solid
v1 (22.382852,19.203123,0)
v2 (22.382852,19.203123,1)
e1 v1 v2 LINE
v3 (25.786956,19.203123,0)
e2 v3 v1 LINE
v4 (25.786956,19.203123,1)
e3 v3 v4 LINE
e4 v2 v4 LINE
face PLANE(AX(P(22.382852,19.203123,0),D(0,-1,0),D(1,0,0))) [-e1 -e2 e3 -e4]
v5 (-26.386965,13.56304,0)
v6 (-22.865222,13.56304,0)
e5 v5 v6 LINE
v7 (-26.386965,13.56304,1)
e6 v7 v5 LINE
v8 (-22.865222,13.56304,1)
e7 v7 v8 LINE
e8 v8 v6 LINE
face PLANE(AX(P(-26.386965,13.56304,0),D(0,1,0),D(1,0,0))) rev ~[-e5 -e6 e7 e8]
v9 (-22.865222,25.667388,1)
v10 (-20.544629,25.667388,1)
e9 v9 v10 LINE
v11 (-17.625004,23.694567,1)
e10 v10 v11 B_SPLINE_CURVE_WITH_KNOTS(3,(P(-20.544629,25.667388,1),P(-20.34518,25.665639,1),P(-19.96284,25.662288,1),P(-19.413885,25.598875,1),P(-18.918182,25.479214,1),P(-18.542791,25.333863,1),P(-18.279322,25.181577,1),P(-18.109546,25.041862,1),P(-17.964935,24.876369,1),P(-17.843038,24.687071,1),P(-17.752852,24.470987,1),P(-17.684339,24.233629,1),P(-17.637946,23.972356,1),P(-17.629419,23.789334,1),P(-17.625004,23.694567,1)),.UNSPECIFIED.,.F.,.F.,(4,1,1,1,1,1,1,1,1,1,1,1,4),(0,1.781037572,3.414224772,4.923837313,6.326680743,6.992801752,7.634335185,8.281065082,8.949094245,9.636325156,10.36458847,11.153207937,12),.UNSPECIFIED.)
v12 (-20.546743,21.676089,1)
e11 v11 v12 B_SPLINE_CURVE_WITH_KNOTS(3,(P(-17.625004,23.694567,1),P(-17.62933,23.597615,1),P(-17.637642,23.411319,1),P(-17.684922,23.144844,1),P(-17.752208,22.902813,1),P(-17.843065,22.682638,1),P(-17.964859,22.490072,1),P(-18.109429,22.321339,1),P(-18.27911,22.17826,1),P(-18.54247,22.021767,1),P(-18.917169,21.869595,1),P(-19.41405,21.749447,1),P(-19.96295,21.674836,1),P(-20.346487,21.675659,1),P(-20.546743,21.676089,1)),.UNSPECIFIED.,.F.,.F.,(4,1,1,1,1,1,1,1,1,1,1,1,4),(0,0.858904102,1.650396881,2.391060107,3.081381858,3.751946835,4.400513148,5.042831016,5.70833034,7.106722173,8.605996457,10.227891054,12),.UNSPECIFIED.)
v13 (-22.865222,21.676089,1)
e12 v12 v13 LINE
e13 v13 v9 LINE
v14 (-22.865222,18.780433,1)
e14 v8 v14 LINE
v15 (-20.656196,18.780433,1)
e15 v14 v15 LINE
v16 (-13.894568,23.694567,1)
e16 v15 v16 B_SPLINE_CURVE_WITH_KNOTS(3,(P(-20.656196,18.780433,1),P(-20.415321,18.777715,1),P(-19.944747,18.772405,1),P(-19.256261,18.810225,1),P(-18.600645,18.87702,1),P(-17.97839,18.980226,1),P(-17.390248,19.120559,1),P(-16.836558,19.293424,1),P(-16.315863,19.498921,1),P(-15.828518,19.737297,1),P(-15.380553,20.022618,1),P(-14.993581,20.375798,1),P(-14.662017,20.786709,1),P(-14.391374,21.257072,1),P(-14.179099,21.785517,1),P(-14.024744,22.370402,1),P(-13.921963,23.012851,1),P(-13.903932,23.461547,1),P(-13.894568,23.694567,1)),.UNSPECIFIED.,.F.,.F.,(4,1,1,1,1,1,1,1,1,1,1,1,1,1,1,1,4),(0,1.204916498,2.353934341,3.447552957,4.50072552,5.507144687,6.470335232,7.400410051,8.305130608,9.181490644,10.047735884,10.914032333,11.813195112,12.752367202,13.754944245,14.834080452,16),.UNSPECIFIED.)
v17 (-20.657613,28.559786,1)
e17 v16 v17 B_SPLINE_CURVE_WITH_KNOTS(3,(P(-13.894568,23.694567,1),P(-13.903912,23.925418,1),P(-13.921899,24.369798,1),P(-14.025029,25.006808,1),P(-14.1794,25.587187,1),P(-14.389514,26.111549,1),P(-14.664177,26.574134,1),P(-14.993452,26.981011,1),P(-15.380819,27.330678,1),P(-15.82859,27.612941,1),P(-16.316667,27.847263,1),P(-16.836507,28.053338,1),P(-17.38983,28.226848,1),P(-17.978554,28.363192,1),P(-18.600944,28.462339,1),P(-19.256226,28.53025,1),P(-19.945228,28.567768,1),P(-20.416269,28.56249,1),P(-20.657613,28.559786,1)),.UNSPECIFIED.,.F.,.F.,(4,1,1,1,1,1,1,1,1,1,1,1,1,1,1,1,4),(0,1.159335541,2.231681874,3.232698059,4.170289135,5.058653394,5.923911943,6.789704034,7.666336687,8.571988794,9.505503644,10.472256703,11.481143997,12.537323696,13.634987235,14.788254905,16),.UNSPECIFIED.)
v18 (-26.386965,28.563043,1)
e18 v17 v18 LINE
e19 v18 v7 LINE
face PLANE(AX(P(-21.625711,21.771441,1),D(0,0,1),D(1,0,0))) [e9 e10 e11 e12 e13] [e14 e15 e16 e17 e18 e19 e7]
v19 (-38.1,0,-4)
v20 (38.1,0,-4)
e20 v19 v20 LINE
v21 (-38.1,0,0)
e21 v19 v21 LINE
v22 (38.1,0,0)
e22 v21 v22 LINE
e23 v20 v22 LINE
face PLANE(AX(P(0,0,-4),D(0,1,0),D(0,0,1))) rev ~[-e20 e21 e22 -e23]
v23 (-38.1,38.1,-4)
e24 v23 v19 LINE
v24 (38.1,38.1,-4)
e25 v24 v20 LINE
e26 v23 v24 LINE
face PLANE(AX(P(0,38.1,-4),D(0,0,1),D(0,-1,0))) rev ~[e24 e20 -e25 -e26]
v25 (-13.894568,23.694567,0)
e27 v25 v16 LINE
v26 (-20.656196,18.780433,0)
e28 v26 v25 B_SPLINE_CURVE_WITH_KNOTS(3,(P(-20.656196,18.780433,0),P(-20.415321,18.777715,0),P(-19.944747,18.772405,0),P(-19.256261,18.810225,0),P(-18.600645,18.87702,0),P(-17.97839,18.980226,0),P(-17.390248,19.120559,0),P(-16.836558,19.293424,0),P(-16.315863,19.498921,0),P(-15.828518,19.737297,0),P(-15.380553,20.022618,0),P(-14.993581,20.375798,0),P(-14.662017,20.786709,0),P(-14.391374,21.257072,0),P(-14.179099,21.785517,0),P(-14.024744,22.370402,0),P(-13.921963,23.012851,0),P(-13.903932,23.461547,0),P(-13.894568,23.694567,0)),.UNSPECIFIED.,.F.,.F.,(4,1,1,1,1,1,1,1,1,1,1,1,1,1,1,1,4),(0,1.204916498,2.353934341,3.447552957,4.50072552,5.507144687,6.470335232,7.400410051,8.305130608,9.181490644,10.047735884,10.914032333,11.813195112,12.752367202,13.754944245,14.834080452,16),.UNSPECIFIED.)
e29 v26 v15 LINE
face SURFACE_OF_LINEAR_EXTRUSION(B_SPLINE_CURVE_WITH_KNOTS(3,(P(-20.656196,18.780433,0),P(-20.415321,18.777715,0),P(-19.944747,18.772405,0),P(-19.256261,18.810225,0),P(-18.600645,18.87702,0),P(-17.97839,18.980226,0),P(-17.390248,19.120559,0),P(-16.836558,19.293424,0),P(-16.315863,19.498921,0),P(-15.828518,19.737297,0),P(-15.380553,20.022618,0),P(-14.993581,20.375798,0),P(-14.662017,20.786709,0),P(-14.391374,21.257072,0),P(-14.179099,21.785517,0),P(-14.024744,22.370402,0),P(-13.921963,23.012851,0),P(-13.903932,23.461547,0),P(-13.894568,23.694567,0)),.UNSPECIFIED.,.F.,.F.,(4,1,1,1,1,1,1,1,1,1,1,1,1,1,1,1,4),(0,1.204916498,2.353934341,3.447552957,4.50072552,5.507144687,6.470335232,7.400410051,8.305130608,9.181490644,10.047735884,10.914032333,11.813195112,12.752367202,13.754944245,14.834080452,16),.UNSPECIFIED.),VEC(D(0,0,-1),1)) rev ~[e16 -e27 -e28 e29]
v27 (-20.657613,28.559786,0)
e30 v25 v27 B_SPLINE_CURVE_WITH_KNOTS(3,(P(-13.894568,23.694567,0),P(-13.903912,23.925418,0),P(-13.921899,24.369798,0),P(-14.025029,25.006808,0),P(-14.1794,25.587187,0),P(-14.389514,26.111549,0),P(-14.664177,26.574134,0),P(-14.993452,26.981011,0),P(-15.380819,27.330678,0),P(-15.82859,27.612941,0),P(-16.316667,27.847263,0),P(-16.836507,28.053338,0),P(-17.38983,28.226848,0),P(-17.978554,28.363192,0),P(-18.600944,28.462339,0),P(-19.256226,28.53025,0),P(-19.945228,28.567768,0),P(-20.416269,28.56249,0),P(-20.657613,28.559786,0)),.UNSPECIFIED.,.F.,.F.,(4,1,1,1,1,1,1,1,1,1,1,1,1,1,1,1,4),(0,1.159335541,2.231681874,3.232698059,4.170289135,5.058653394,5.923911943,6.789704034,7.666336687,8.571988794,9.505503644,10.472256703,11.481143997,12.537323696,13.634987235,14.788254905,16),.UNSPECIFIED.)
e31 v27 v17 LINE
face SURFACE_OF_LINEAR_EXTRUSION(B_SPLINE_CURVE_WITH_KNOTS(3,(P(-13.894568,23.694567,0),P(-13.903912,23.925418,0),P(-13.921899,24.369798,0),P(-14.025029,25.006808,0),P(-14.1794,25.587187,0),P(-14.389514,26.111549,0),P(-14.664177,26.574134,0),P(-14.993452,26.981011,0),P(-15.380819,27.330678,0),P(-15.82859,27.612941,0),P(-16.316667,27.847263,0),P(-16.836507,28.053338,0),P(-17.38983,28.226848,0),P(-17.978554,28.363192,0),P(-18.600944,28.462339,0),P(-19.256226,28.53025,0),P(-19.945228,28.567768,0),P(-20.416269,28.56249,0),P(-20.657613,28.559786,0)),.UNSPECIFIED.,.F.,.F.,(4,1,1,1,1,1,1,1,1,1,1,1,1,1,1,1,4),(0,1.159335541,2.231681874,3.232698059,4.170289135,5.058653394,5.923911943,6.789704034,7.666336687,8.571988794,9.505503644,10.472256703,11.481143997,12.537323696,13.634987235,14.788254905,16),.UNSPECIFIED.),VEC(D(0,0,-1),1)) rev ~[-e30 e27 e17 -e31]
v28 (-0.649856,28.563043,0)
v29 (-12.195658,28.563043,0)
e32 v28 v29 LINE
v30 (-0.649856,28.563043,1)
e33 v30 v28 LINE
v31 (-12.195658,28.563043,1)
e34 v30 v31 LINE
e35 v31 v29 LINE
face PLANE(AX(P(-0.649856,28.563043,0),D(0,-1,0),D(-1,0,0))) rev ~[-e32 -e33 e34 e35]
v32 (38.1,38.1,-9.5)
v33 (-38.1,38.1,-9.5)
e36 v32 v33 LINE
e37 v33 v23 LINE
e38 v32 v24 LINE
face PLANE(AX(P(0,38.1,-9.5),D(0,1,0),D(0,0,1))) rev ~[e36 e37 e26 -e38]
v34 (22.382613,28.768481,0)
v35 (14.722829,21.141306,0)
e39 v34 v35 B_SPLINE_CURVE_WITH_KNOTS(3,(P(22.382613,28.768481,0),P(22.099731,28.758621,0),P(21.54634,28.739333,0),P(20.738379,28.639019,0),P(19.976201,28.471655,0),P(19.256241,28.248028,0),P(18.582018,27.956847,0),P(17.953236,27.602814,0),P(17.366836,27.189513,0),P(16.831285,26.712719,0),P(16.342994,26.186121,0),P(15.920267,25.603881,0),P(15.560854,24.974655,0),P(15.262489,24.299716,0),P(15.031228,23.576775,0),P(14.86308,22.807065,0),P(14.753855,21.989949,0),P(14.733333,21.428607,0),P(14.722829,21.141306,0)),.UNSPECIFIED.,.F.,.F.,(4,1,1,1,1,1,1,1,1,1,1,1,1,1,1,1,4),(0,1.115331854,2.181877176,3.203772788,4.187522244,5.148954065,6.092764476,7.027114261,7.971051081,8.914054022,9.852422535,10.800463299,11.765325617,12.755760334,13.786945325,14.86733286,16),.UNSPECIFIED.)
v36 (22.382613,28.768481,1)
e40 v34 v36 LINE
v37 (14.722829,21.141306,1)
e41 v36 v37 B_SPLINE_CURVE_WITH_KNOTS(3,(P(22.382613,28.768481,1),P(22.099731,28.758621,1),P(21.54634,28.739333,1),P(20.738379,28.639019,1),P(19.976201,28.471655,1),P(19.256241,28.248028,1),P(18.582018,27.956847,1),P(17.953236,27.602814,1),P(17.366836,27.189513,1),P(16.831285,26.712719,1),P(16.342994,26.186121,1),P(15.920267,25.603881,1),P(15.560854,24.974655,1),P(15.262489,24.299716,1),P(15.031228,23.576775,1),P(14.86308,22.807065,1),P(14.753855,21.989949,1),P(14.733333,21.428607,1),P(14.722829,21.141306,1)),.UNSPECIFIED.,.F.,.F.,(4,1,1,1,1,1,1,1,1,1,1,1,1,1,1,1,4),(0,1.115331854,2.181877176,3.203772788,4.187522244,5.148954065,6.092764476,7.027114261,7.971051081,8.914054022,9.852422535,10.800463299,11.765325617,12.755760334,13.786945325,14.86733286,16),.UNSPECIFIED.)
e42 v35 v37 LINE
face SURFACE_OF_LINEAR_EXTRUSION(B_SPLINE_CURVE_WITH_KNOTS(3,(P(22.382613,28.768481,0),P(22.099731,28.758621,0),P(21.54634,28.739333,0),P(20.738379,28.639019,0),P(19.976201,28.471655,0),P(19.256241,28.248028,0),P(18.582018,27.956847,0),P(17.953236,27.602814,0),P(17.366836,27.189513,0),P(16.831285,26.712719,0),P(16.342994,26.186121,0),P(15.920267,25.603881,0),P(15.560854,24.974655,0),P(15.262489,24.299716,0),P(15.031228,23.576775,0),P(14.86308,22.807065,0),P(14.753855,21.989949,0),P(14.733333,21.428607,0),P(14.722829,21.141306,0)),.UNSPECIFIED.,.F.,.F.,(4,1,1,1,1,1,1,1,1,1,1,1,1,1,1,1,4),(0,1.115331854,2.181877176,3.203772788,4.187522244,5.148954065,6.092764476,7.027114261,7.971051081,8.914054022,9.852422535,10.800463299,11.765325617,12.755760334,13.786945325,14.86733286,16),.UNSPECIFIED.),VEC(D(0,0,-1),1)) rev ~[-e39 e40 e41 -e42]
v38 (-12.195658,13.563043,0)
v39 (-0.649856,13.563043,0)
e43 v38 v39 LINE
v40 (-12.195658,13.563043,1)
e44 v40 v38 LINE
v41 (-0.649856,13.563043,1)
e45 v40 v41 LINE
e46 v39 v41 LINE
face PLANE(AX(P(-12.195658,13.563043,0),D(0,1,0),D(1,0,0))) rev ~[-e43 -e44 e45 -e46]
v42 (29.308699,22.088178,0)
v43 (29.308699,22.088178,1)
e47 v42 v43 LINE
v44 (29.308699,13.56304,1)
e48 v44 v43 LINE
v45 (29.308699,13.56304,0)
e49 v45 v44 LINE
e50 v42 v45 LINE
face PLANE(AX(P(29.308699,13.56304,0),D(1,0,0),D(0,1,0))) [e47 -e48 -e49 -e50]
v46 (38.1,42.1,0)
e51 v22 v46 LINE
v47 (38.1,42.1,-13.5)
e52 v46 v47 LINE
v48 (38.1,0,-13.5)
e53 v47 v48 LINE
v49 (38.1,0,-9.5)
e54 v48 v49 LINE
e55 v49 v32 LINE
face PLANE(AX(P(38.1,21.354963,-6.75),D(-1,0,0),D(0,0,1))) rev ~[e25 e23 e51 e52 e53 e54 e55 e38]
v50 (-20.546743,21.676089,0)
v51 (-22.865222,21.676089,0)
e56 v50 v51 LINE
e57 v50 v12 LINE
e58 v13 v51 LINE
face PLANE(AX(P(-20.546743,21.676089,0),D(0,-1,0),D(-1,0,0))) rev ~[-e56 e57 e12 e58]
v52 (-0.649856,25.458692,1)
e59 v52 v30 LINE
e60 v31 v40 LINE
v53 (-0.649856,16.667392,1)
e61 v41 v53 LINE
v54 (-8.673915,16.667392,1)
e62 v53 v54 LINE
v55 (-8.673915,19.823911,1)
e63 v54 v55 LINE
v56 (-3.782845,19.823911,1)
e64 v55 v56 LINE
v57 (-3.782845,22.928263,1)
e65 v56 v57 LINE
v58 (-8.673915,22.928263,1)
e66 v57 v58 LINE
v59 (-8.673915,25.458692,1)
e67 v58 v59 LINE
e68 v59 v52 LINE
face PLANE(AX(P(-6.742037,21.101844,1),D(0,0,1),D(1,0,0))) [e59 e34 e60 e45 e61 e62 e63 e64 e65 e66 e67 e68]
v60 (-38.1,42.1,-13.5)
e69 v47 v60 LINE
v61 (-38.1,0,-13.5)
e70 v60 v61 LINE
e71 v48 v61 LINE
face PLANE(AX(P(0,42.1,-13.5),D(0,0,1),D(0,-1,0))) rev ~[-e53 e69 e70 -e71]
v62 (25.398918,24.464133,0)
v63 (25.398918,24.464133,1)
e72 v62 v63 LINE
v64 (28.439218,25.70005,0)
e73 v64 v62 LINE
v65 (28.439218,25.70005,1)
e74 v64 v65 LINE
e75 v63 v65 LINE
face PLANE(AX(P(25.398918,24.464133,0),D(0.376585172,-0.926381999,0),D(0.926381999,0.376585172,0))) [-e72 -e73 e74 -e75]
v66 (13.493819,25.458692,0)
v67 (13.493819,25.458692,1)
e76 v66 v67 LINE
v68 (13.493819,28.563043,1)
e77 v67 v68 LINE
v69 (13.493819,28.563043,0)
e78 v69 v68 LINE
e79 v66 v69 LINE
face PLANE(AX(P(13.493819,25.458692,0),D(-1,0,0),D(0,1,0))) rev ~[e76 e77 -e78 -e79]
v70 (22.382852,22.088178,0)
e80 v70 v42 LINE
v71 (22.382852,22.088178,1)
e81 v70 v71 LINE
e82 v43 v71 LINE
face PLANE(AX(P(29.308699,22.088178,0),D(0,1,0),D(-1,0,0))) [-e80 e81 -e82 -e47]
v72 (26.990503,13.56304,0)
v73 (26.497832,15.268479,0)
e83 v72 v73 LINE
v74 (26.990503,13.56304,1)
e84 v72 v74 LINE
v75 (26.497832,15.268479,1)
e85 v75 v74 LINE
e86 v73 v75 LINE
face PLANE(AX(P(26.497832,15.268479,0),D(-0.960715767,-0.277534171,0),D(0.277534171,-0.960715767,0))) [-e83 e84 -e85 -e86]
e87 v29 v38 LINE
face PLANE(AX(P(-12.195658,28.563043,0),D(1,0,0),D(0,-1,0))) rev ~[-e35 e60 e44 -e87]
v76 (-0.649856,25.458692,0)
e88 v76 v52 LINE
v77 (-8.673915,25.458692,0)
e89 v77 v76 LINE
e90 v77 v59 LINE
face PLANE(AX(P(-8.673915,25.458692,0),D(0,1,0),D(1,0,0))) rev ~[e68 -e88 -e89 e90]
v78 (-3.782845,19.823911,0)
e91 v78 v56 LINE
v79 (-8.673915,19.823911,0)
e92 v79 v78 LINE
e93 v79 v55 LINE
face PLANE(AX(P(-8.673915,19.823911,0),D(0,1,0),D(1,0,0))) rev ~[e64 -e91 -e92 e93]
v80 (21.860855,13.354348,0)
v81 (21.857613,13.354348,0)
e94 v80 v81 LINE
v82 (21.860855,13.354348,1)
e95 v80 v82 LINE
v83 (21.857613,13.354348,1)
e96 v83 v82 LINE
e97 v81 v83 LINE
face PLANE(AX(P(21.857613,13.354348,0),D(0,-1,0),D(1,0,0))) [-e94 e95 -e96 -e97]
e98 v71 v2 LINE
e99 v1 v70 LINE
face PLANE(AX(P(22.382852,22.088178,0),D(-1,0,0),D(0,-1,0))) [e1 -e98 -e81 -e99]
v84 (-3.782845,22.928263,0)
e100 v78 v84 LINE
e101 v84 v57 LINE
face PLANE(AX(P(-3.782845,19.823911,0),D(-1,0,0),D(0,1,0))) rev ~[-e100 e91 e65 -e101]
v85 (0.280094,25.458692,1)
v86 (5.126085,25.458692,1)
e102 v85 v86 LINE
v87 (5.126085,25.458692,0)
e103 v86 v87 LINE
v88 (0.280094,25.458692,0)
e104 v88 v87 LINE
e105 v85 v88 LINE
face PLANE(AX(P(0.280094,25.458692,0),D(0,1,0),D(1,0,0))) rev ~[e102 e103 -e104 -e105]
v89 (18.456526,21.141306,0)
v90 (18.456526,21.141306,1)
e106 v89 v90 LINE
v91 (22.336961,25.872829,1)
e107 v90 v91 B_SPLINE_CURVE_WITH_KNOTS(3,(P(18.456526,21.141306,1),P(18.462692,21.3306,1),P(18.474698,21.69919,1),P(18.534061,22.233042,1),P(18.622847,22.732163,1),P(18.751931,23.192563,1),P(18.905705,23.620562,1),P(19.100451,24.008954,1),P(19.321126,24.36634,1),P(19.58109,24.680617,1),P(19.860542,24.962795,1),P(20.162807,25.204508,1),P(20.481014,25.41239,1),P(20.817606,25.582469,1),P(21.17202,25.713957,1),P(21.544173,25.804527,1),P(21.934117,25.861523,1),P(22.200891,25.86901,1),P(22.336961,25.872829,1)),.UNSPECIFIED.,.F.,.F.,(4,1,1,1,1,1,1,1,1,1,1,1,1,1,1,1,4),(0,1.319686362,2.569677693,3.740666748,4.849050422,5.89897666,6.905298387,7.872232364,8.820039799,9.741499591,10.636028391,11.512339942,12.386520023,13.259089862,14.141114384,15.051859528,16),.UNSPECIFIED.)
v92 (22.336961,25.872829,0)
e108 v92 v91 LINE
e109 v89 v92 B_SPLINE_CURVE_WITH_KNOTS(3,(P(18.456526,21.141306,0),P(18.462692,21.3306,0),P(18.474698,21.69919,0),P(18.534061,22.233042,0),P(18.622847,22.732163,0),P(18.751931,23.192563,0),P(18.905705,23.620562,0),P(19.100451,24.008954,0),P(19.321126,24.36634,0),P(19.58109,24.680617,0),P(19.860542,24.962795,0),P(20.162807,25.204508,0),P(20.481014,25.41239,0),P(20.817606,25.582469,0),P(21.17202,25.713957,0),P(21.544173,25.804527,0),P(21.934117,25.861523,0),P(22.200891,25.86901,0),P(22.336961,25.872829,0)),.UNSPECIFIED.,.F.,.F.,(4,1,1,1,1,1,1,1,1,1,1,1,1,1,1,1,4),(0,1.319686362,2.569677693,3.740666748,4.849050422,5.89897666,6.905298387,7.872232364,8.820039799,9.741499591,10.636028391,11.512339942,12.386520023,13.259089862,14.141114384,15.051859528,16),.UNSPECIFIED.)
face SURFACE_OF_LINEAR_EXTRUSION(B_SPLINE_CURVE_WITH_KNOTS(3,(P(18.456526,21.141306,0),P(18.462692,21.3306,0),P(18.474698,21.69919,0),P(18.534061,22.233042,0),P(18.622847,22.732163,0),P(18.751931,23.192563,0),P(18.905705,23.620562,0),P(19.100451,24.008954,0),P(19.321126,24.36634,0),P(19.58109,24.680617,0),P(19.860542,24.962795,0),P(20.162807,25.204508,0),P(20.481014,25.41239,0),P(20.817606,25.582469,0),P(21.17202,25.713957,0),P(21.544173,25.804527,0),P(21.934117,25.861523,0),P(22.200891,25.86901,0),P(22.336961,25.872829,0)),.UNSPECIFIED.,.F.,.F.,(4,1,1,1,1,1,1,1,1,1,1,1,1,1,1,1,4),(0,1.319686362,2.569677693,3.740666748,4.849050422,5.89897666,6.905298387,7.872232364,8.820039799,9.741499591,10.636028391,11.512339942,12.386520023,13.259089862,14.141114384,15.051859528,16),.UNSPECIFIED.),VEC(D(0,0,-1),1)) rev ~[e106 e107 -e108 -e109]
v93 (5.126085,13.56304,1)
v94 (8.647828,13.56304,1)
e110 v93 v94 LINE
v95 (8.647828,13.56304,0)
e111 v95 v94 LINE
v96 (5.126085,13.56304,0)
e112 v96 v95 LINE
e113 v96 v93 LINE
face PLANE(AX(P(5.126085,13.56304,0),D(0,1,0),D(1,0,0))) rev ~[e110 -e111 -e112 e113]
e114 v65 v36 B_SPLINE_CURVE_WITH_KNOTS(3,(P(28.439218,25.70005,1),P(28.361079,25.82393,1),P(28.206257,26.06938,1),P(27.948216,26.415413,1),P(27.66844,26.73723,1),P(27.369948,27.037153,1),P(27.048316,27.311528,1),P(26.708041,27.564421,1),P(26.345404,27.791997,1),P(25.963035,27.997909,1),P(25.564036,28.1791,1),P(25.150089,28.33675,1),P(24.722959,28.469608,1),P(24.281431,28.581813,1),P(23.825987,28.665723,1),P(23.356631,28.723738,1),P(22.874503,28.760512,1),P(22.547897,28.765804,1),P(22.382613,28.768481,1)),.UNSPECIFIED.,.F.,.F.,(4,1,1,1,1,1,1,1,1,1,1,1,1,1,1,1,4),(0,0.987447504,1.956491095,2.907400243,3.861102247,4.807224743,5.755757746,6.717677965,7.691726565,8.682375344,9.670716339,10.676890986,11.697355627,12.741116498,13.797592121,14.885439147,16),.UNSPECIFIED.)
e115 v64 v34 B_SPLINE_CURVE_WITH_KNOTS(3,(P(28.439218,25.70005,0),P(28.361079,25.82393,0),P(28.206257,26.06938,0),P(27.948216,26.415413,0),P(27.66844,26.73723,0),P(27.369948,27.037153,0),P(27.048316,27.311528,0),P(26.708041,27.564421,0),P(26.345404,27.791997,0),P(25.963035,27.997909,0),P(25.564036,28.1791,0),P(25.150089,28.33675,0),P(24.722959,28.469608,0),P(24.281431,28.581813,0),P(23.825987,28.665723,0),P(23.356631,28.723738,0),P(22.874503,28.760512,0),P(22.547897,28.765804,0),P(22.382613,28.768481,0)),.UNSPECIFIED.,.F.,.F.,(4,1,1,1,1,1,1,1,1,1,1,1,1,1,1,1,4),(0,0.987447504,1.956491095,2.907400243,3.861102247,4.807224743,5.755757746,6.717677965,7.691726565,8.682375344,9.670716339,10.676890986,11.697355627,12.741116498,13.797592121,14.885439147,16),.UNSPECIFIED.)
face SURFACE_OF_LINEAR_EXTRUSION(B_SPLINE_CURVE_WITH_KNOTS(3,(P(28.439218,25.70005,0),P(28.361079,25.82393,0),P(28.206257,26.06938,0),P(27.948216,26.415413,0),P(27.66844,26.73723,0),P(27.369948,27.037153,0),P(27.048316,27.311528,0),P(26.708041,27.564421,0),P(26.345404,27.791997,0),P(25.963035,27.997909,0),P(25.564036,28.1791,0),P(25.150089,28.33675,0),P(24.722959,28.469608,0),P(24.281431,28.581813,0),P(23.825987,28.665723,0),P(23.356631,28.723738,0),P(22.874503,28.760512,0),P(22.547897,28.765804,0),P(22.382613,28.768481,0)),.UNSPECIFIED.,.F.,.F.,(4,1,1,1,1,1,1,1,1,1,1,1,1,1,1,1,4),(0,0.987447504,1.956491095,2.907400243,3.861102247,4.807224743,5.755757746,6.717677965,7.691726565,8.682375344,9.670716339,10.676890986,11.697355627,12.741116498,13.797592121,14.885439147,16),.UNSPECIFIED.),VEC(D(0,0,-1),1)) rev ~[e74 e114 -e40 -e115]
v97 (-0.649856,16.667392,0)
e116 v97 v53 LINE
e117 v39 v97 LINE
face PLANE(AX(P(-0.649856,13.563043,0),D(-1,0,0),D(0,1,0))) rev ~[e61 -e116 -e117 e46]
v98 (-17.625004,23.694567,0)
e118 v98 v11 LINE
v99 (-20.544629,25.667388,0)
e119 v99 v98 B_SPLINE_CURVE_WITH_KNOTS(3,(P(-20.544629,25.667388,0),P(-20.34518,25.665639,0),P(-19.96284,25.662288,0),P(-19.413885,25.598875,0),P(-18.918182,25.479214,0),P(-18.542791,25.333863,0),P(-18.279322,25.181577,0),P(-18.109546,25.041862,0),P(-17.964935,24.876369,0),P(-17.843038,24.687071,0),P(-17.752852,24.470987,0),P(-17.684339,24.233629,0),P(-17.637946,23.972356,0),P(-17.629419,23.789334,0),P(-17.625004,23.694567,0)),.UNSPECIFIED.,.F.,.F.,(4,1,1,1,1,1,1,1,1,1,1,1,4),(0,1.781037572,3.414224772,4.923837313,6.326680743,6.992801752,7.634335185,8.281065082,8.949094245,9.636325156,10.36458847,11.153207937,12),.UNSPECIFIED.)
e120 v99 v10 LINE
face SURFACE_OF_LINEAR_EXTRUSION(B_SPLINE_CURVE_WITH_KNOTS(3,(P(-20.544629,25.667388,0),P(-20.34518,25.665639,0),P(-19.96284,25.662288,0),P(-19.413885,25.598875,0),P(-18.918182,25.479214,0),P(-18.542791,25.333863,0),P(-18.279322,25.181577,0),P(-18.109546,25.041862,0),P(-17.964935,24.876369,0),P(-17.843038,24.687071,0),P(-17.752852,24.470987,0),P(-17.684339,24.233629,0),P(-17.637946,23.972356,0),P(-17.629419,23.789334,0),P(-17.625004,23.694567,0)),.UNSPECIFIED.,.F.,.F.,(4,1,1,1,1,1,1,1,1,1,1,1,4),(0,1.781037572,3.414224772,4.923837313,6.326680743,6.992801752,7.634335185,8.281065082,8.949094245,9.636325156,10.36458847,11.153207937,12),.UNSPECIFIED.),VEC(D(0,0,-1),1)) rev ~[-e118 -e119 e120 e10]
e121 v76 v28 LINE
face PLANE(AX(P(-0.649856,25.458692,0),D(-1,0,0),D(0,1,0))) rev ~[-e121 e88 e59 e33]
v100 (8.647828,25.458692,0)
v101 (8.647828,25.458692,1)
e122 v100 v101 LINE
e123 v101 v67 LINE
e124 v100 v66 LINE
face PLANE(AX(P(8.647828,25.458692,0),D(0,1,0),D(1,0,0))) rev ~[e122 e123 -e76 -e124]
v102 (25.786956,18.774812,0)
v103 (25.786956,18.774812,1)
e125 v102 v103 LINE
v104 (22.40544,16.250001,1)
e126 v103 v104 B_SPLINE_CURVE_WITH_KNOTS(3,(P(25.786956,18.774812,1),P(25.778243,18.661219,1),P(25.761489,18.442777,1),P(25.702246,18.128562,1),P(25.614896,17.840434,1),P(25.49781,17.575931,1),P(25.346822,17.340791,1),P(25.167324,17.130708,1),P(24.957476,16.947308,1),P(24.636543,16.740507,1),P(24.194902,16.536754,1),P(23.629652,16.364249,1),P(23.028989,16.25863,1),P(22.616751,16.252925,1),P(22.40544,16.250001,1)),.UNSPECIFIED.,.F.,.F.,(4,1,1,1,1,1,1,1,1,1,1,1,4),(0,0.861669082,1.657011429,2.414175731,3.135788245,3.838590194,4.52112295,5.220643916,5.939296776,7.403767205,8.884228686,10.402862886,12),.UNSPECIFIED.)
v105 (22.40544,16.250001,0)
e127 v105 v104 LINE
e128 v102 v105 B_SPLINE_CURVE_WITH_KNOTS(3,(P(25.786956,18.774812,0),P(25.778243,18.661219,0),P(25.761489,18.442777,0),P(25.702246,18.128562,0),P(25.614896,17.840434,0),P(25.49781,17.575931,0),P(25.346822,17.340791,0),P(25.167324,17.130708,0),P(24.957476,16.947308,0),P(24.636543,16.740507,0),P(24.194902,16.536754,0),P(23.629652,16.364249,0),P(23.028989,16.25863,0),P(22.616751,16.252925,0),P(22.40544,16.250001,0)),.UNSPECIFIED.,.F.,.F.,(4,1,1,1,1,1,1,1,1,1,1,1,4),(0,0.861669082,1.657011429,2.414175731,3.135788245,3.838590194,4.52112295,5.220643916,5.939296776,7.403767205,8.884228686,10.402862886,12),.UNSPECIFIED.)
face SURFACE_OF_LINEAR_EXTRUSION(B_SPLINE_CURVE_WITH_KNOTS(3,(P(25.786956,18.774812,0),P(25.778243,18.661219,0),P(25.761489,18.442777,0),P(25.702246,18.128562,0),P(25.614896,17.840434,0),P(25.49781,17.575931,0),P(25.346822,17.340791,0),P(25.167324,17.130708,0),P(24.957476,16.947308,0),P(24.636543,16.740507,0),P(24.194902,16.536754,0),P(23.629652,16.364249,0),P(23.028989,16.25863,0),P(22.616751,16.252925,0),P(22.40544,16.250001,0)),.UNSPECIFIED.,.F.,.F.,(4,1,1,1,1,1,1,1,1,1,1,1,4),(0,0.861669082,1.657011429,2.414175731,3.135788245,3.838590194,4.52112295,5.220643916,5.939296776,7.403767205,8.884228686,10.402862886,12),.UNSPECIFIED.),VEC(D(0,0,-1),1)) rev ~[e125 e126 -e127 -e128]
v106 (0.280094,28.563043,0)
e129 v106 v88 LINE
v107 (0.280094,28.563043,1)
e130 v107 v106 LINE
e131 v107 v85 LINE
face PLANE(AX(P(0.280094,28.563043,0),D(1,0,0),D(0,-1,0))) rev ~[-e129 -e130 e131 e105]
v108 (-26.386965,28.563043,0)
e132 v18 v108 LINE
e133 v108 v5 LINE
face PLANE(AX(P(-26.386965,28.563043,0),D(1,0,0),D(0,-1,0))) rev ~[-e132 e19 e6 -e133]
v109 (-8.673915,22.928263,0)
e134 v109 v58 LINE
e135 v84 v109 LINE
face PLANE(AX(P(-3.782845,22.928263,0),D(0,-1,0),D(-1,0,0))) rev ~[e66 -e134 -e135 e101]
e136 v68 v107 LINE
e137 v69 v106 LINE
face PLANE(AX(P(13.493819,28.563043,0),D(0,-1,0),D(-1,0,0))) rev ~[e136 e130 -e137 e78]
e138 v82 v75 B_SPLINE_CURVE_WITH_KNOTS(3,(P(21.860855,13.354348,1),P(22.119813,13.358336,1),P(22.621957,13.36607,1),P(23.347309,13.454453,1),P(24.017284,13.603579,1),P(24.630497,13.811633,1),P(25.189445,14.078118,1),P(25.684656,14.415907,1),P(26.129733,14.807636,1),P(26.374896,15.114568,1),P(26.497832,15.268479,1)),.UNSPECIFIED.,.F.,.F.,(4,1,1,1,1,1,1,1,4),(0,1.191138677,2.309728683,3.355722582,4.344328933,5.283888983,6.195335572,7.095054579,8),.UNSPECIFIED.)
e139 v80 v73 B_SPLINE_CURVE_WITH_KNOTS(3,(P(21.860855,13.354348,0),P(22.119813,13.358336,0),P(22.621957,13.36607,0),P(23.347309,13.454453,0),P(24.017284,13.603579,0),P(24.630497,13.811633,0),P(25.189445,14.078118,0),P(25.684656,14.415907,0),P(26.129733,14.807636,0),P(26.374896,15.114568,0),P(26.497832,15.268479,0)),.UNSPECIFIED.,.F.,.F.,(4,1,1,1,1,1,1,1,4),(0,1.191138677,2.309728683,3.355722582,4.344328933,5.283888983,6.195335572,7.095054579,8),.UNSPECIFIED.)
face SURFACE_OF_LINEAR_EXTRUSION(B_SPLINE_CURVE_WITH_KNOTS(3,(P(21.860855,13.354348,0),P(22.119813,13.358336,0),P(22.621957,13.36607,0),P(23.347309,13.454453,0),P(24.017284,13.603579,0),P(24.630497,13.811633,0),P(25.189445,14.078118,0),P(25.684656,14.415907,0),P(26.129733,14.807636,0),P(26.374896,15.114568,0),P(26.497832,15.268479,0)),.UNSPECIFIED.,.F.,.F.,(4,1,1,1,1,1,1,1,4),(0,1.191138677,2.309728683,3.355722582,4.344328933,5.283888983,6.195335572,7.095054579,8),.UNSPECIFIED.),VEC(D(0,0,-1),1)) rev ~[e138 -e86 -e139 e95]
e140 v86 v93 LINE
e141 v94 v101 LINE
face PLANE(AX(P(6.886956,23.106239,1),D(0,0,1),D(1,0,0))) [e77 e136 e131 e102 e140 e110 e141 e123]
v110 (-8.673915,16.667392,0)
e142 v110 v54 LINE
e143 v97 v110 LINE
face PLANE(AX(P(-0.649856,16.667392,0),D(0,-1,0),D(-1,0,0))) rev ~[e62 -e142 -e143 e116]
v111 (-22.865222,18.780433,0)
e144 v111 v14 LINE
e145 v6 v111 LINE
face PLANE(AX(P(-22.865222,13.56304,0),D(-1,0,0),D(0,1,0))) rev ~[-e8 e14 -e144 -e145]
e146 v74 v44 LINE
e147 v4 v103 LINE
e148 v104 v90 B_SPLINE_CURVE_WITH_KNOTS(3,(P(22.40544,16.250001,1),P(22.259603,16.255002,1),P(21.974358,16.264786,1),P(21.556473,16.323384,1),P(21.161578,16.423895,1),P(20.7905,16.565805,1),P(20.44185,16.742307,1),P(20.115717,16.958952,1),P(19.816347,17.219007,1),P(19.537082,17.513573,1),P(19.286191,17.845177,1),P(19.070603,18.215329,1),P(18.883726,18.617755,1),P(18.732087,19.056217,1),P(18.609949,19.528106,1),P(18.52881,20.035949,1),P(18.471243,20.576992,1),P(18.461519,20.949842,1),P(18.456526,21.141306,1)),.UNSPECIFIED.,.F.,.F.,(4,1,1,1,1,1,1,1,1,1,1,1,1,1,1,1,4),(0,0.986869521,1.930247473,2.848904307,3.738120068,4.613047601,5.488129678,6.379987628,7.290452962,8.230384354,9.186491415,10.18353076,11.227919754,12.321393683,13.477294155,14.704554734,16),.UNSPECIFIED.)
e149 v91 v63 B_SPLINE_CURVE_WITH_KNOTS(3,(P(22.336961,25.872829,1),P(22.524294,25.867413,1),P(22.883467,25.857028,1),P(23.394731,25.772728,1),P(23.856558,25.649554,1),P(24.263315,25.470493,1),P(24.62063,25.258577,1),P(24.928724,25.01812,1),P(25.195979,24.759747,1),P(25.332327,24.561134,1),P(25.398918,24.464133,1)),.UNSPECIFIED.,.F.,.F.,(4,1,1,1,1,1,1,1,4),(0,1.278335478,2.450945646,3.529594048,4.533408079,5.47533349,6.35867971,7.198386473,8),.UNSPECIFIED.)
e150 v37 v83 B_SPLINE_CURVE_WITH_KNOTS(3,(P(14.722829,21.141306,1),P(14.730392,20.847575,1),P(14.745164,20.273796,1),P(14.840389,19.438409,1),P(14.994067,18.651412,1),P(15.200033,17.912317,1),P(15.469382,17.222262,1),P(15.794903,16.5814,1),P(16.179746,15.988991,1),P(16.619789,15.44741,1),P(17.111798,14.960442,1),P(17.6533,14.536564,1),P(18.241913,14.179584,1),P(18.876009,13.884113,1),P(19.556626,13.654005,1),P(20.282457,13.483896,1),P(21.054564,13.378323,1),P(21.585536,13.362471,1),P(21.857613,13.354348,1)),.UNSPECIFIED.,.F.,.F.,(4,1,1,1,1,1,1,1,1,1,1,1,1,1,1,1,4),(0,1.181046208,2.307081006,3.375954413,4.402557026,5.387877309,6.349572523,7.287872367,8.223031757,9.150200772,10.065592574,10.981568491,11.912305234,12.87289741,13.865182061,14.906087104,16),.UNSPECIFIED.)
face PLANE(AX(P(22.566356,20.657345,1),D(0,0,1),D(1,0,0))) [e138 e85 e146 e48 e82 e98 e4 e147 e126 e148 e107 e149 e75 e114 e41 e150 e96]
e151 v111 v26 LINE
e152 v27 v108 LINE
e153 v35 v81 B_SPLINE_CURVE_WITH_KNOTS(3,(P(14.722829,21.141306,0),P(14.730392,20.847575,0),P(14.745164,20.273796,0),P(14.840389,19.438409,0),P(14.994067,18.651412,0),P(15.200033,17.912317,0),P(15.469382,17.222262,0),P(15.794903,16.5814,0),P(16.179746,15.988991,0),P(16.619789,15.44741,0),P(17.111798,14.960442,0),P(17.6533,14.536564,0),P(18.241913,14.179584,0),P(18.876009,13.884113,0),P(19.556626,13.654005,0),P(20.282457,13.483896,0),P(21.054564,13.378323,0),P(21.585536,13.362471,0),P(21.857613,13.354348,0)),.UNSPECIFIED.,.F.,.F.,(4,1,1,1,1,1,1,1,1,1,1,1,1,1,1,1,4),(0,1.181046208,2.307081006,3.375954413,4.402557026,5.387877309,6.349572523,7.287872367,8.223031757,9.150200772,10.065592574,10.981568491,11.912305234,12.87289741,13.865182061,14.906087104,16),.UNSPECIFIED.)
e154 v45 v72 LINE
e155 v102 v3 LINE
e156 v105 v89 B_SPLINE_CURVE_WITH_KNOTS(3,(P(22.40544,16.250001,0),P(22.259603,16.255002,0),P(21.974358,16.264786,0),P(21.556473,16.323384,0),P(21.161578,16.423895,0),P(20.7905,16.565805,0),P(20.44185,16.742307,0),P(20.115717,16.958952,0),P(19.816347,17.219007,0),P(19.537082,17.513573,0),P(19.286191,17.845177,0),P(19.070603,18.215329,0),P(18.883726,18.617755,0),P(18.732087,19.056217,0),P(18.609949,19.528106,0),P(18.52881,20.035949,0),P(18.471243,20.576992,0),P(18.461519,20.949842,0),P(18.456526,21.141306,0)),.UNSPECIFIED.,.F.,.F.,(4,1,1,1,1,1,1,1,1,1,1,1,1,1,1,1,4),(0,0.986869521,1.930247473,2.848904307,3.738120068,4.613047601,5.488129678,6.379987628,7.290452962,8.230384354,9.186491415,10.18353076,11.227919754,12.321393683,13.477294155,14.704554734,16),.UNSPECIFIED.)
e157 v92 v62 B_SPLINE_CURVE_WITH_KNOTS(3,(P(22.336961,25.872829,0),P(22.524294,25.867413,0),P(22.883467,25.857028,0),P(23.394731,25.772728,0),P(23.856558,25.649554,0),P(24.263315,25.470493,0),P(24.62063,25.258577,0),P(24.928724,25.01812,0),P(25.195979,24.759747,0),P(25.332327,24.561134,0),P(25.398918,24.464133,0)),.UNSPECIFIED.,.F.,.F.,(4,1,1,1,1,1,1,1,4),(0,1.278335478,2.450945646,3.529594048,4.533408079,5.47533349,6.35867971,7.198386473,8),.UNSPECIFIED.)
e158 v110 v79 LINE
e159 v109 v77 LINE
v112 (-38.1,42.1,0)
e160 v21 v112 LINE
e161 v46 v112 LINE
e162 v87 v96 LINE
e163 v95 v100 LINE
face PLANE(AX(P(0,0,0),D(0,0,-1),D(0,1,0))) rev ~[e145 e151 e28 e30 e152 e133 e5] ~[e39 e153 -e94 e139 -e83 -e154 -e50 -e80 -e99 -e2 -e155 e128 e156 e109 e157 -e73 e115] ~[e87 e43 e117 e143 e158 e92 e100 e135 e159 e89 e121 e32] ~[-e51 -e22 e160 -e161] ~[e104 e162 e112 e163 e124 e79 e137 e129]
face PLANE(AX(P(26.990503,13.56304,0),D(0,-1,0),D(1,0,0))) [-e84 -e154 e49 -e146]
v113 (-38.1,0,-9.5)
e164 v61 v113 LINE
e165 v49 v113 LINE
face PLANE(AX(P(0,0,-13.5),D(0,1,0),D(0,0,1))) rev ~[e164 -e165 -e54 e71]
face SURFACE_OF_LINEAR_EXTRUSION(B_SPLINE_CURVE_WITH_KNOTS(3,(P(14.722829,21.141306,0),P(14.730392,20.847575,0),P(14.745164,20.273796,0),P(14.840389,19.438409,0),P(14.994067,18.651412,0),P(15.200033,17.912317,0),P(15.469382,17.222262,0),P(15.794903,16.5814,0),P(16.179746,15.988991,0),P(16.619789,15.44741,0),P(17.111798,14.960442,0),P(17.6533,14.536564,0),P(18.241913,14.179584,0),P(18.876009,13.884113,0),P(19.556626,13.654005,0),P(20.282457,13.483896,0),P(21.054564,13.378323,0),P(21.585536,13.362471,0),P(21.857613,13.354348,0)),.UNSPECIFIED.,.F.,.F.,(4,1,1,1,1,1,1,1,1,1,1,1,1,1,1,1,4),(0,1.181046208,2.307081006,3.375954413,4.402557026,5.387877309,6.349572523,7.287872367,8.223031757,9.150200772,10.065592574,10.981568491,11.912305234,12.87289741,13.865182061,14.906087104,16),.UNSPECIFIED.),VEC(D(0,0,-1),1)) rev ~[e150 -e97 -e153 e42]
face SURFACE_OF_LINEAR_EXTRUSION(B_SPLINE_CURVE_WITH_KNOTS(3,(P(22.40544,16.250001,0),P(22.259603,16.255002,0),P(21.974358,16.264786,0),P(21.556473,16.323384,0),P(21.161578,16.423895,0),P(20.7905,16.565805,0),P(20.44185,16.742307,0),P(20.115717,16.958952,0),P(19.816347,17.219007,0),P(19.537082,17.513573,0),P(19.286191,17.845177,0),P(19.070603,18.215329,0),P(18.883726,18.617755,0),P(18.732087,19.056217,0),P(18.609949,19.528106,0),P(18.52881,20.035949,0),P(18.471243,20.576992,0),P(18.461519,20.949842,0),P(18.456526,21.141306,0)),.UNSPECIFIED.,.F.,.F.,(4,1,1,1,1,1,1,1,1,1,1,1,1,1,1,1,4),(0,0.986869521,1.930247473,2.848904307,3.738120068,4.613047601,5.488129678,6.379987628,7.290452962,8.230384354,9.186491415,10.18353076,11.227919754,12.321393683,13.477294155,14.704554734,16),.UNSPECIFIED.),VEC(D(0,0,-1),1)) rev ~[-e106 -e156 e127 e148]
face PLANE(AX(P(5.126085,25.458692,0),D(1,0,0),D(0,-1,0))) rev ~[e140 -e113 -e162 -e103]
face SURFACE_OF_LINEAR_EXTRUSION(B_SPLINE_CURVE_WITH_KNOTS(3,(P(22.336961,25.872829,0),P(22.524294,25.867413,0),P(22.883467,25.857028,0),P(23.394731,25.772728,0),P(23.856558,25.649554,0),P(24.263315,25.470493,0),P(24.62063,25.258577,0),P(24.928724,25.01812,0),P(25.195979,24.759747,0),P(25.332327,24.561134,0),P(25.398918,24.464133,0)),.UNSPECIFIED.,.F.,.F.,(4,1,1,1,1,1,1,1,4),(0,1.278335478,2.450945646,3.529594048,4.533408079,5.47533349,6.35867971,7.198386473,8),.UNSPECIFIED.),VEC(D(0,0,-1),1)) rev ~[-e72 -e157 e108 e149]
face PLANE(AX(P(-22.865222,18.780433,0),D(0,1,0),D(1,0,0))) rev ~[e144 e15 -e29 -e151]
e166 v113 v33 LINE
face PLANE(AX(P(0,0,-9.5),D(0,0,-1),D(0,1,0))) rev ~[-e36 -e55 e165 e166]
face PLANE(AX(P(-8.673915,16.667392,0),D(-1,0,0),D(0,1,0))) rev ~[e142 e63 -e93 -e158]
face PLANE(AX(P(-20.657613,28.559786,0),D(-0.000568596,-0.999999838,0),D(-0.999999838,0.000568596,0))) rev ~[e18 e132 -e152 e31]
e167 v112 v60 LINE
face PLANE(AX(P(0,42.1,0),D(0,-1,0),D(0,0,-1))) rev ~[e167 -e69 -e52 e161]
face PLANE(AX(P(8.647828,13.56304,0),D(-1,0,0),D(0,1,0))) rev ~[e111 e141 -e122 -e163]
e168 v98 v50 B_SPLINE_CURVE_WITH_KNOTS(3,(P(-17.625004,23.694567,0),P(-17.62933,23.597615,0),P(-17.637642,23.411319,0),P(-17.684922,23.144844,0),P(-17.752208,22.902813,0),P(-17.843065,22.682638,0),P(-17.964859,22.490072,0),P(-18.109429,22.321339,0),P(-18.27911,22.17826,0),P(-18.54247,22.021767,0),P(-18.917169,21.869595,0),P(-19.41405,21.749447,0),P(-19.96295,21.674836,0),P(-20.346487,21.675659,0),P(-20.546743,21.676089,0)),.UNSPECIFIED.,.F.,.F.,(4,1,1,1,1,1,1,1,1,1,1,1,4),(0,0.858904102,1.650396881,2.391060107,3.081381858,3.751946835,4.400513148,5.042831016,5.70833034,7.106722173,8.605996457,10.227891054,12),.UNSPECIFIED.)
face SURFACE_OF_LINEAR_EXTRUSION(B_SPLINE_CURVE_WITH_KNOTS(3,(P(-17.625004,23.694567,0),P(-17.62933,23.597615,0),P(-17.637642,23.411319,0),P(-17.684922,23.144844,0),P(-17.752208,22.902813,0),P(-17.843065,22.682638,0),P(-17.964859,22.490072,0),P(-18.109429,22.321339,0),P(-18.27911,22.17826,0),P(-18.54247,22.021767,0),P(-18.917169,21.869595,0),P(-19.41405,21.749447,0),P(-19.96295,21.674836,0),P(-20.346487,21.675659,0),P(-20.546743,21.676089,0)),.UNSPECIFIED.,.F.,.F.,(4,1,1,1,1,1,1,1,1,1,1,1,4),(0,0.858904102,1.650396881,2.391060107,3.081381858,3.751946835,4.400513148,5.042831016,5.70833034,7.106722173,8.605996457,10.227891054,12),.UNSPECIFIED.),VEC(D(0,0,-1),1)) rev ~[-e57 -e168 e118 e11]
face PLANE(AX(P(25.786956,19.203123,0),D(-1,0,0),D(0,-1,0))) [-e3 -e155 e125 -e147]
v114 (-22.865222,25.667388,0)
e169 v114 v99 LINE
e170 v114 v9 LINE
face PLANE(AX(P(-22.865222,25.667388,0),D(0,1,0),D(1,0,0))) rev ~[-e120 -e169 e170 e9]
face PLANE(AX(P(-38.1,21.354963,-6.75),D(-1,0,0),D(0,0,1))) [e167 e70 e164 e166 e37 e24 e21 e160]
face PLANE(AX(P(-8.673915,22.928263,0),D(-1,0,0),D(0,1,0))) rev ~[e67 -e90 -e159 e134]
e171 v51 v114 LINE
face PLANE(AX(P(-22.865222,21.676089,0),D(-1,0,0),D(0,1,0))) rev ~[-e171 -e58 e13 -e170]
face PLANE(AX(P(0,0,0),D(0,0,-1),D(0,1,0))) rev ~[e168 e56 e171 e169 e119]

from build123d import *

# Parameters (mm, degrees)
BOSS_EXTRUDE1_DEPTH = 38.1
BOSS_EXTRUDE3_DEPTH = 1


with BuildPart() as part:
    # Sketch1 → Boss-Extrude1 (new, symmetric)
    with BuildSketch(Plane(origin=(0, 0, 0), x_dir=(0, 0, -1), z_dir=(1, 0, 0))):
        Polygon((0, 0), (0, 42.1), (13.5, 42.1), (13.5, 0), (9.5, 0), (9.5, 38.1), (4, 38.1), (4, 0), align=None)
    extrude(amount=BOSS_EXTRUDE1_DEPTH, both=True)

    # Sketch2 → Boss-Extrude3 (add, symmetric)
    # profile 1 of 4: a face of its own
    with BuildSketch(Plane.XY):
        with BuildLine():
            Line((-22.865222246, 13.563040297), (-22.865222246, 18.780432709))
            Line((-22.865222246, 18.780432709), (-20.656196004, 18.780432709))
            add(Edge.make_bspline(
                [(-20.656196004, 18.780432709), (-20.41532138, 18.777714688), (-19.944746821, 18.772404742), (-19.256261279, 18.810224697), (-18.600645479, 18.877020485), (-17.978390446, 18.980226184), (-17.390247833, 19.12055906), (-16.836558282, 19.293424233), (-16.315862603, 19.49892128), (-15.828517725, 19.737297205), (-15.380553204, 20.022617586), (-14.993581031, 20.375797987), (-14.662017368, 20.786709496), (-14.391374272, 21.257071797), (-14.179098793, 21.785516775), (-14.024744286, 22.370402283), (-13.921962582, 23.01285099), (-13.903931965, 23.461547081), (-13.894568167, 23.694567371)],
                knots=[0, 0, 0, 0, 1.204916498, 2.353934341, 3.447552957, 4.50072552, 5.507144687, 6.470335232, 7.400410051, 8.305130608, 9.181490644, 10.047735884, 10.914032333, 11.813195112, 12.752367202, 13.754944245, 14.834080452, 16, 16, 16, 16], degree=3))
            add(Edge.make_bspline(
                [(-13.894568167, 23.694567371), (-13.903912104, 23.925417991), (-13.921898868, 24.369797661), (-14.025029441, 25.006807545), (-14.179399587, 25.587187383), (-14.389513591, 26.111548771), (-14.664177487, 26.574134139), (-14.993451519, 26.981011122), (-15.380818743, 27.330678309), (-15.828590089, 27.612940523), (-16.316667278, 27.84726287), (-16.836506867, 28.053338122), (-17.389829867, 28.226848133), (-17.978554423, 28.363192211), (-18.600944194, 28.462338902), (-19.256226176, 28.530250328), (-19.945228379, 28.567767567), (-20.416269188, 28.562489884), (-20.657613081, 28.559785795)],
                knots=[0, 0, 0, 0, 1.159335541, 2.231681874, 3.232698059, 4.170289135, 5.058653394, 5.923911943, 6.789704034, 7.666336687, 8.571988794, 9.505503644, 10.472256703, 11.481143997, 12.537323696, 13.634987235, 14.788254905, 16, 16, 16, 16], degree=3))
            Line((-20.657613081, 28.559785795), (-26.386965308, 28.563043481))
            Line((-26.386965308, 28.563043481), (-26.386965308, 13.563040297))
            Line((-26.386965308, 13.563040297), (-22.865222246, 13.563040297))
        make_face()
        with BuildLine():
            Line((-22.865222246, 25.667387508), (-20.544629022, 25.667387508))
            add(Edge.make_bspline(
                [(-20.544629022, 25.667387508), (-20.345180429, 25.665639397), (-19.962840192, 25.662288292), (-19.413885258, 25.59887468), (-18.918181922, 25.479214253), (-18.542791264, 25.333863497), (-18.279322093, 25.181576921), (-18.109546209, 25.041861769), (-17.964935401, 24.876369042), (-17.843038449, 24.687071269), (-17.752852301, 24.470987064), (-17.684339378, 24.233628804), (-17.637945851, 23.972355884), (-17.629418881, 23.789333614), (-17.625003742, 23.694567371)],
                knots=[0, 0, 0, 0, 1.781037572, 3.414224772, 4.923837313, 6.326680743, 6.992801752, 7.634335185, 8.281065082, 8.949094245, 9.636325156, 10.36458847, 11.153207937, 12, 12, 12, 12], degree=3))
            add(Edge.make_bspline(
                [(-17.625003742, 23.694567371), (-17.629329654, 23.597614693), (-17.637641958, 23.411318694), (-17.684922478, 23.144843592), (-17.752207557, 22.902812702), (-17.843064613, 22.682637579), (-17.964858791, 22.490072062), (-18.109429188, 22.321339009), (-18.279109983, 22.1782603), (-18.542470117, 22.021767063), (-18.917168662, 21.869595463), (-19.414049866, 21.749447311), (-19.962950296, 21.674835955), (-20.346487469, 21.675658964), (-20.546743492, 21.676088682)],
                knots=[0, 0, 0, 0, 0.858904102, 1.650396881, 2.391060107, 3.081381858, 3.751946835, 4.400513148, 5.042831016, 5.70833034, 7.106722173, 8.605996457, 10.227891054, 12, 12, 12, 12], degree=3))
            Line((-20.546743492, 21.676088682), (-22.865222246, 21.676088682))
            Line((-22.865222246, 21.676088682), (-22.865222246, 25.667387508))
        make_face(mode=Mode.SUBTRACT)
    # profile 2 of 4: a face of its own
    with BuildSketch(Plane.XY):
        Polygon((-12.195657947, 13.563043481), (-0.649855777, 13.563043481), (-0.649855777, 16.667391966), (-8.673914885, 16.667391966), (-8.673914885, 19.823911191), (-3.782845148, 19.823911191), (-3.782845148, 22.928262861), (-8.673914885, 22.928262861), (-8.673914885, 25.458691811), (-0.649855777, 25.458691811), (-0.649855777, 28.563043481), (-12.195657947, 28.563043481), align=None)
    # profile 3 of 4: a face of its own
    with BuildSketch(Plane.XY):
        Polygon((5.12608486, 25.458691811), (5.12608486, 13.563040297), (8.647827923, 13.563040297), (8.647827923, 25.458691811), (13.493818677, 25.458691811), (13.493818677, 28.563043481), (0.280094107, 28.563043481), (0.280094107, 25.458691811), align=None)
    # profile 4 of 4: a face of its own
    with BuildSketch(Plane.XY):
        with BuildLine():
            add(Edge.make_bspline(
                [(21.8608551, 13.354347785), (22.119813105, 13.358336117), (22.621956763, 13.366069866), (23.347309068, 13.45445267), (24.017283661, 13.603578733), (24.630497021, 13.811632782), (25.189445256, 14.078118279), (25.684655597, 14.415907315), (26.129733363, 14.807635649), (26.374895594, 15.114568002), (26.497831712, 15.268478626)],
                knots=[0, 0, 0, 0, 1.191138677, 2.309728683, 3.355722582, 4.344328933, 5.283888983, 6.195335572, 7.095054579, 8, 8, 8, 8], degree=3))
            Line((26.497831712, 15.268478626), (26.990503352, 13.563040297))
            Line((26.990503352, 13.563040297), (29.30869869, 13.563040297))
            Line((29.30869869, 13.563040297), (29.30869869, 22.088177976))
            Line((29.30869869, 22.088177976), (22.382852281, 22.088177976))
            Line((22.382852281, 22.088177976), (22.382852281, 19.203123016))
            Line((22.382852281, 19.203123016), (25.786955627, 19.203123016))
            Line((25.786955627, 19.203123016), (25.786955627, 18.774812166))
            add(Edge.make_bspline(
                [(25.786955627, 18.774812166), (25.778243203, 18.661219148), (25.761488992, 18.442776904), (25.702246402, 18.128562143), (25.614895527, 17.840434035), (25.497809633, 17.575930668), (25.346821564, 17.340790726), (25.16732423, 17.130707606), (24.957475692, 16.947308094), (24.63654282, 16.740507442), (24.194902065, 16.536753638), (23.629652259, 16.364249197), (23.028988663, 16.258629639), (22.6167514, 16.25292484), (22.405439539, 16.250000573)],
                knots=[0, 0, 0, 0, 0.861669082, 1.657011429, 2.414175731, 3.135788245, 3.838590194, 4.52112295, 5.220643916, 5.939296776, 7.403767205, 8.884228686, 10.402862886, 12, 12, 12, 12], degree=3))
            add(Edge.make_bspline(
                [(22.405439539, 16.250000573), (22.25960337, 16.255002366), (21.974358066, 16.26478552), (21.556473033, 16.323383598), (21.161578461, 16.4238954), (20.790499519, 16.565804834), (20.441850175, 16.742306557), (20.115717207, 16.958951958), (19.816347235, 17.219006913), (19.537082003, 17.513572772), (19.286190745, 17.845177479), (19.070603452, 18.215328788), (18.883726471, 18.617755475), (18.732087018, 19.05621736), (18.609948745, 19.528105564), (18.528810433, 20.035948609), (18.471242635, 20.57699171), (18.461518922, 20.949842028), (18.456525657, 21.141305959)],
                knots=[0, 0, 0, 0, 0.986869521, 1.930247473, 2.848904307, 3.738120068, 4.613047601, 5.488129678, 6.379987628, 7.290452962, 8.230384354, 9.186491415, 10.18353076, 11.227919754, 12.321393683, 13.477294155, 14.704554734, 16, 16, 16, 16], degree=3))
            add(Edge.make_bspline(
                [(18.456525657, 21.141305959), (18.462691715, 21.33059976), (18.47469819, 21.699190413), (18.534060968, 22.233041601), (18.62284679, 22.732163005), (18.751930806, 23.192563277), (18.905705346, 23.620561964), (19.100451259, 24.00895419), (19.321125945, 24.36633998), (19.58108987, 24.680617067), (19.860542252, 24.962795133), (20.162806955, 25.204508316), (20.481013939, 25.412390421), (20.817605993, 25.582469386), (21.172019795, 25.713956508), (21.544172891, 25.804526785), (21.934117354, 25.861522595), (22.200891059, 25.869009794), (22.336961264, 25.872828703)],
                knots=[0, 0, 0, 0, 1.319686362, 2.569677693, 3.740666748, 4.849050422, 5.89897666, 6.905298387, 7.872232364, 8.820039799, 9.741499591, 10.636028391, 11.512339942, 12.386520023, 13.259089862, 14.141114384, 15.051859528, 16, 16, 16, 16], degree=3))
            add(Edge.make_bspline(
                [(22.336961264, 25.872828703), (22.524294222, 25.867412582), (22.883466683, 25.857028283), (23.394731341, 25.772727742), (23.856558075, 25.649553589), (24.263315352, 25.470493213), (24.620629848, 25.258577476), (24.928723783, 25.018120229), (25.195978892, 24.759746675), (25.332326749, 24.561134201), (25.398918436, 24.464132752)],
                knots=[0, 0, 0, 0, 1.278335478, 2.450945646, 3.529594048, 4.533408079, 5.47533349, 6.35867971, 7.198386473, 8, 8, 8, 8], degree=3))
            Line((25.398918436, 24.464132752), (28.439218206, 25.700050346))
            add(Edge.make_bspline(
                [(28.439218206, 25.700050346), (28.361079034, 25.823929698), (28.206257037, 26.069379557), (27.948215698, 26.41541292), (27.668439938, 26.7372298), (27.369948167, 27.03715345), (27.048315584, 27.311527509), (26.708040547, 27.564420909), (26.345403709, 27.791997061), (25.963035389, 27.997909002), (25.564035608, 28.179099544), (25.150089409, 28.336749678), (24.722958781, 28.469607783), (24.281431216, 28.581812576), (23.825986668, 28.665722756), (23.3566313, 28.723737703), (22.874502715, 28.760511724), (22.547897044, 28.765803507), (22.382613447, 28.768481492)],
                knots=[0, 0, 0, 0, 0.987447504, 1.956491095, 2.907400243, 3.861102247, 4.807224743, 5.755757746, 6.717677965, 7.691726565, 8.682375344, 9.670716339, 10.676890986, 11.697355627, 12.741116498, 13.797592121, 14.885439147, 16, 16, 16, 16], degree=3))
            add(Edge.make_bspline(
                [(22.382613447, 28.768481492), (22.099730981, 28.758621488), (21.546339814, 28.739332773), (20.738378686, 28.639019262), (19.976200826, 28.471654692), (19.256240644, 28.248028091), (18.582018051, 27.956846547), (17.953235542, 27.602814057), (17.366836258, 27.189513377), (16.831285034, 26.712718675), (16.342994106, 26.186120845), (15.920267276, 25.60388094), (15.560854464, 24.974654528), (15.262488717, 24.299715759), (15.031227955, 23.576774675), (14.863080191, 22.807064787), (14.753855008, 21.989948886), (14.733332745, 21.428607179), (14.722829213, 21.141305959)],
                knots=[0, 0, 0, 0, 1.115331854, 2.181877176, 3.203772788, 4.187522244, 5.148954065, 6.092764476, 7.027114261, 7.971051081, 8.914054022, 9.852422535, 10.800463299, 11.765325617, 12.755760334, 13.786945325, 14.86733286, 16, 16, 16, 16], degree=3))
            add(Edge.make_bspline(
                [(14.722829213, 21.141305959), (14.730391549, 20.847575412), (14.745163979, 20.273795857), (14.84038858, 19.438408616), (14.994067089, 18.651412225), (15.200032703, 17.912316957), (15.469382319, 17.22226235), (15.794902903, 16.581399506), (16.179745575, 15.988990666), (16.61978942, 15.447409763), (17.111798353, 14.960441635), (17.653299929, 14.536564006), (18.241912503, 14.179583732), (18.876009186, 13.884113096), (19.55662642, 13.654005492), (20.282457402, 13.483895793), (21.054564416, 13.378322793), (21.585535664, 13.362470658), (21.857613336, 13.354347785)],
                knots=[0, 0, 0, 0, 1.181046208, 2.307081006, 3.375954413, 4.402557026, 5.387877309, 6.349572523, 7.287872367, 8.223031757, 9.150200772, 10.065592574, 10.981568491, 11.912305234, 12.87289741, 13.865182061, 14.906087104, 16, 16, 16, 16], degree=3))
            Line((21.857613336, 13.354347785), (21.8608551, 13.354347785))
        make_face()
    extrude(amount=BOSS_EXTRUDE3_DEPTH, both=True)


solid = part.part
